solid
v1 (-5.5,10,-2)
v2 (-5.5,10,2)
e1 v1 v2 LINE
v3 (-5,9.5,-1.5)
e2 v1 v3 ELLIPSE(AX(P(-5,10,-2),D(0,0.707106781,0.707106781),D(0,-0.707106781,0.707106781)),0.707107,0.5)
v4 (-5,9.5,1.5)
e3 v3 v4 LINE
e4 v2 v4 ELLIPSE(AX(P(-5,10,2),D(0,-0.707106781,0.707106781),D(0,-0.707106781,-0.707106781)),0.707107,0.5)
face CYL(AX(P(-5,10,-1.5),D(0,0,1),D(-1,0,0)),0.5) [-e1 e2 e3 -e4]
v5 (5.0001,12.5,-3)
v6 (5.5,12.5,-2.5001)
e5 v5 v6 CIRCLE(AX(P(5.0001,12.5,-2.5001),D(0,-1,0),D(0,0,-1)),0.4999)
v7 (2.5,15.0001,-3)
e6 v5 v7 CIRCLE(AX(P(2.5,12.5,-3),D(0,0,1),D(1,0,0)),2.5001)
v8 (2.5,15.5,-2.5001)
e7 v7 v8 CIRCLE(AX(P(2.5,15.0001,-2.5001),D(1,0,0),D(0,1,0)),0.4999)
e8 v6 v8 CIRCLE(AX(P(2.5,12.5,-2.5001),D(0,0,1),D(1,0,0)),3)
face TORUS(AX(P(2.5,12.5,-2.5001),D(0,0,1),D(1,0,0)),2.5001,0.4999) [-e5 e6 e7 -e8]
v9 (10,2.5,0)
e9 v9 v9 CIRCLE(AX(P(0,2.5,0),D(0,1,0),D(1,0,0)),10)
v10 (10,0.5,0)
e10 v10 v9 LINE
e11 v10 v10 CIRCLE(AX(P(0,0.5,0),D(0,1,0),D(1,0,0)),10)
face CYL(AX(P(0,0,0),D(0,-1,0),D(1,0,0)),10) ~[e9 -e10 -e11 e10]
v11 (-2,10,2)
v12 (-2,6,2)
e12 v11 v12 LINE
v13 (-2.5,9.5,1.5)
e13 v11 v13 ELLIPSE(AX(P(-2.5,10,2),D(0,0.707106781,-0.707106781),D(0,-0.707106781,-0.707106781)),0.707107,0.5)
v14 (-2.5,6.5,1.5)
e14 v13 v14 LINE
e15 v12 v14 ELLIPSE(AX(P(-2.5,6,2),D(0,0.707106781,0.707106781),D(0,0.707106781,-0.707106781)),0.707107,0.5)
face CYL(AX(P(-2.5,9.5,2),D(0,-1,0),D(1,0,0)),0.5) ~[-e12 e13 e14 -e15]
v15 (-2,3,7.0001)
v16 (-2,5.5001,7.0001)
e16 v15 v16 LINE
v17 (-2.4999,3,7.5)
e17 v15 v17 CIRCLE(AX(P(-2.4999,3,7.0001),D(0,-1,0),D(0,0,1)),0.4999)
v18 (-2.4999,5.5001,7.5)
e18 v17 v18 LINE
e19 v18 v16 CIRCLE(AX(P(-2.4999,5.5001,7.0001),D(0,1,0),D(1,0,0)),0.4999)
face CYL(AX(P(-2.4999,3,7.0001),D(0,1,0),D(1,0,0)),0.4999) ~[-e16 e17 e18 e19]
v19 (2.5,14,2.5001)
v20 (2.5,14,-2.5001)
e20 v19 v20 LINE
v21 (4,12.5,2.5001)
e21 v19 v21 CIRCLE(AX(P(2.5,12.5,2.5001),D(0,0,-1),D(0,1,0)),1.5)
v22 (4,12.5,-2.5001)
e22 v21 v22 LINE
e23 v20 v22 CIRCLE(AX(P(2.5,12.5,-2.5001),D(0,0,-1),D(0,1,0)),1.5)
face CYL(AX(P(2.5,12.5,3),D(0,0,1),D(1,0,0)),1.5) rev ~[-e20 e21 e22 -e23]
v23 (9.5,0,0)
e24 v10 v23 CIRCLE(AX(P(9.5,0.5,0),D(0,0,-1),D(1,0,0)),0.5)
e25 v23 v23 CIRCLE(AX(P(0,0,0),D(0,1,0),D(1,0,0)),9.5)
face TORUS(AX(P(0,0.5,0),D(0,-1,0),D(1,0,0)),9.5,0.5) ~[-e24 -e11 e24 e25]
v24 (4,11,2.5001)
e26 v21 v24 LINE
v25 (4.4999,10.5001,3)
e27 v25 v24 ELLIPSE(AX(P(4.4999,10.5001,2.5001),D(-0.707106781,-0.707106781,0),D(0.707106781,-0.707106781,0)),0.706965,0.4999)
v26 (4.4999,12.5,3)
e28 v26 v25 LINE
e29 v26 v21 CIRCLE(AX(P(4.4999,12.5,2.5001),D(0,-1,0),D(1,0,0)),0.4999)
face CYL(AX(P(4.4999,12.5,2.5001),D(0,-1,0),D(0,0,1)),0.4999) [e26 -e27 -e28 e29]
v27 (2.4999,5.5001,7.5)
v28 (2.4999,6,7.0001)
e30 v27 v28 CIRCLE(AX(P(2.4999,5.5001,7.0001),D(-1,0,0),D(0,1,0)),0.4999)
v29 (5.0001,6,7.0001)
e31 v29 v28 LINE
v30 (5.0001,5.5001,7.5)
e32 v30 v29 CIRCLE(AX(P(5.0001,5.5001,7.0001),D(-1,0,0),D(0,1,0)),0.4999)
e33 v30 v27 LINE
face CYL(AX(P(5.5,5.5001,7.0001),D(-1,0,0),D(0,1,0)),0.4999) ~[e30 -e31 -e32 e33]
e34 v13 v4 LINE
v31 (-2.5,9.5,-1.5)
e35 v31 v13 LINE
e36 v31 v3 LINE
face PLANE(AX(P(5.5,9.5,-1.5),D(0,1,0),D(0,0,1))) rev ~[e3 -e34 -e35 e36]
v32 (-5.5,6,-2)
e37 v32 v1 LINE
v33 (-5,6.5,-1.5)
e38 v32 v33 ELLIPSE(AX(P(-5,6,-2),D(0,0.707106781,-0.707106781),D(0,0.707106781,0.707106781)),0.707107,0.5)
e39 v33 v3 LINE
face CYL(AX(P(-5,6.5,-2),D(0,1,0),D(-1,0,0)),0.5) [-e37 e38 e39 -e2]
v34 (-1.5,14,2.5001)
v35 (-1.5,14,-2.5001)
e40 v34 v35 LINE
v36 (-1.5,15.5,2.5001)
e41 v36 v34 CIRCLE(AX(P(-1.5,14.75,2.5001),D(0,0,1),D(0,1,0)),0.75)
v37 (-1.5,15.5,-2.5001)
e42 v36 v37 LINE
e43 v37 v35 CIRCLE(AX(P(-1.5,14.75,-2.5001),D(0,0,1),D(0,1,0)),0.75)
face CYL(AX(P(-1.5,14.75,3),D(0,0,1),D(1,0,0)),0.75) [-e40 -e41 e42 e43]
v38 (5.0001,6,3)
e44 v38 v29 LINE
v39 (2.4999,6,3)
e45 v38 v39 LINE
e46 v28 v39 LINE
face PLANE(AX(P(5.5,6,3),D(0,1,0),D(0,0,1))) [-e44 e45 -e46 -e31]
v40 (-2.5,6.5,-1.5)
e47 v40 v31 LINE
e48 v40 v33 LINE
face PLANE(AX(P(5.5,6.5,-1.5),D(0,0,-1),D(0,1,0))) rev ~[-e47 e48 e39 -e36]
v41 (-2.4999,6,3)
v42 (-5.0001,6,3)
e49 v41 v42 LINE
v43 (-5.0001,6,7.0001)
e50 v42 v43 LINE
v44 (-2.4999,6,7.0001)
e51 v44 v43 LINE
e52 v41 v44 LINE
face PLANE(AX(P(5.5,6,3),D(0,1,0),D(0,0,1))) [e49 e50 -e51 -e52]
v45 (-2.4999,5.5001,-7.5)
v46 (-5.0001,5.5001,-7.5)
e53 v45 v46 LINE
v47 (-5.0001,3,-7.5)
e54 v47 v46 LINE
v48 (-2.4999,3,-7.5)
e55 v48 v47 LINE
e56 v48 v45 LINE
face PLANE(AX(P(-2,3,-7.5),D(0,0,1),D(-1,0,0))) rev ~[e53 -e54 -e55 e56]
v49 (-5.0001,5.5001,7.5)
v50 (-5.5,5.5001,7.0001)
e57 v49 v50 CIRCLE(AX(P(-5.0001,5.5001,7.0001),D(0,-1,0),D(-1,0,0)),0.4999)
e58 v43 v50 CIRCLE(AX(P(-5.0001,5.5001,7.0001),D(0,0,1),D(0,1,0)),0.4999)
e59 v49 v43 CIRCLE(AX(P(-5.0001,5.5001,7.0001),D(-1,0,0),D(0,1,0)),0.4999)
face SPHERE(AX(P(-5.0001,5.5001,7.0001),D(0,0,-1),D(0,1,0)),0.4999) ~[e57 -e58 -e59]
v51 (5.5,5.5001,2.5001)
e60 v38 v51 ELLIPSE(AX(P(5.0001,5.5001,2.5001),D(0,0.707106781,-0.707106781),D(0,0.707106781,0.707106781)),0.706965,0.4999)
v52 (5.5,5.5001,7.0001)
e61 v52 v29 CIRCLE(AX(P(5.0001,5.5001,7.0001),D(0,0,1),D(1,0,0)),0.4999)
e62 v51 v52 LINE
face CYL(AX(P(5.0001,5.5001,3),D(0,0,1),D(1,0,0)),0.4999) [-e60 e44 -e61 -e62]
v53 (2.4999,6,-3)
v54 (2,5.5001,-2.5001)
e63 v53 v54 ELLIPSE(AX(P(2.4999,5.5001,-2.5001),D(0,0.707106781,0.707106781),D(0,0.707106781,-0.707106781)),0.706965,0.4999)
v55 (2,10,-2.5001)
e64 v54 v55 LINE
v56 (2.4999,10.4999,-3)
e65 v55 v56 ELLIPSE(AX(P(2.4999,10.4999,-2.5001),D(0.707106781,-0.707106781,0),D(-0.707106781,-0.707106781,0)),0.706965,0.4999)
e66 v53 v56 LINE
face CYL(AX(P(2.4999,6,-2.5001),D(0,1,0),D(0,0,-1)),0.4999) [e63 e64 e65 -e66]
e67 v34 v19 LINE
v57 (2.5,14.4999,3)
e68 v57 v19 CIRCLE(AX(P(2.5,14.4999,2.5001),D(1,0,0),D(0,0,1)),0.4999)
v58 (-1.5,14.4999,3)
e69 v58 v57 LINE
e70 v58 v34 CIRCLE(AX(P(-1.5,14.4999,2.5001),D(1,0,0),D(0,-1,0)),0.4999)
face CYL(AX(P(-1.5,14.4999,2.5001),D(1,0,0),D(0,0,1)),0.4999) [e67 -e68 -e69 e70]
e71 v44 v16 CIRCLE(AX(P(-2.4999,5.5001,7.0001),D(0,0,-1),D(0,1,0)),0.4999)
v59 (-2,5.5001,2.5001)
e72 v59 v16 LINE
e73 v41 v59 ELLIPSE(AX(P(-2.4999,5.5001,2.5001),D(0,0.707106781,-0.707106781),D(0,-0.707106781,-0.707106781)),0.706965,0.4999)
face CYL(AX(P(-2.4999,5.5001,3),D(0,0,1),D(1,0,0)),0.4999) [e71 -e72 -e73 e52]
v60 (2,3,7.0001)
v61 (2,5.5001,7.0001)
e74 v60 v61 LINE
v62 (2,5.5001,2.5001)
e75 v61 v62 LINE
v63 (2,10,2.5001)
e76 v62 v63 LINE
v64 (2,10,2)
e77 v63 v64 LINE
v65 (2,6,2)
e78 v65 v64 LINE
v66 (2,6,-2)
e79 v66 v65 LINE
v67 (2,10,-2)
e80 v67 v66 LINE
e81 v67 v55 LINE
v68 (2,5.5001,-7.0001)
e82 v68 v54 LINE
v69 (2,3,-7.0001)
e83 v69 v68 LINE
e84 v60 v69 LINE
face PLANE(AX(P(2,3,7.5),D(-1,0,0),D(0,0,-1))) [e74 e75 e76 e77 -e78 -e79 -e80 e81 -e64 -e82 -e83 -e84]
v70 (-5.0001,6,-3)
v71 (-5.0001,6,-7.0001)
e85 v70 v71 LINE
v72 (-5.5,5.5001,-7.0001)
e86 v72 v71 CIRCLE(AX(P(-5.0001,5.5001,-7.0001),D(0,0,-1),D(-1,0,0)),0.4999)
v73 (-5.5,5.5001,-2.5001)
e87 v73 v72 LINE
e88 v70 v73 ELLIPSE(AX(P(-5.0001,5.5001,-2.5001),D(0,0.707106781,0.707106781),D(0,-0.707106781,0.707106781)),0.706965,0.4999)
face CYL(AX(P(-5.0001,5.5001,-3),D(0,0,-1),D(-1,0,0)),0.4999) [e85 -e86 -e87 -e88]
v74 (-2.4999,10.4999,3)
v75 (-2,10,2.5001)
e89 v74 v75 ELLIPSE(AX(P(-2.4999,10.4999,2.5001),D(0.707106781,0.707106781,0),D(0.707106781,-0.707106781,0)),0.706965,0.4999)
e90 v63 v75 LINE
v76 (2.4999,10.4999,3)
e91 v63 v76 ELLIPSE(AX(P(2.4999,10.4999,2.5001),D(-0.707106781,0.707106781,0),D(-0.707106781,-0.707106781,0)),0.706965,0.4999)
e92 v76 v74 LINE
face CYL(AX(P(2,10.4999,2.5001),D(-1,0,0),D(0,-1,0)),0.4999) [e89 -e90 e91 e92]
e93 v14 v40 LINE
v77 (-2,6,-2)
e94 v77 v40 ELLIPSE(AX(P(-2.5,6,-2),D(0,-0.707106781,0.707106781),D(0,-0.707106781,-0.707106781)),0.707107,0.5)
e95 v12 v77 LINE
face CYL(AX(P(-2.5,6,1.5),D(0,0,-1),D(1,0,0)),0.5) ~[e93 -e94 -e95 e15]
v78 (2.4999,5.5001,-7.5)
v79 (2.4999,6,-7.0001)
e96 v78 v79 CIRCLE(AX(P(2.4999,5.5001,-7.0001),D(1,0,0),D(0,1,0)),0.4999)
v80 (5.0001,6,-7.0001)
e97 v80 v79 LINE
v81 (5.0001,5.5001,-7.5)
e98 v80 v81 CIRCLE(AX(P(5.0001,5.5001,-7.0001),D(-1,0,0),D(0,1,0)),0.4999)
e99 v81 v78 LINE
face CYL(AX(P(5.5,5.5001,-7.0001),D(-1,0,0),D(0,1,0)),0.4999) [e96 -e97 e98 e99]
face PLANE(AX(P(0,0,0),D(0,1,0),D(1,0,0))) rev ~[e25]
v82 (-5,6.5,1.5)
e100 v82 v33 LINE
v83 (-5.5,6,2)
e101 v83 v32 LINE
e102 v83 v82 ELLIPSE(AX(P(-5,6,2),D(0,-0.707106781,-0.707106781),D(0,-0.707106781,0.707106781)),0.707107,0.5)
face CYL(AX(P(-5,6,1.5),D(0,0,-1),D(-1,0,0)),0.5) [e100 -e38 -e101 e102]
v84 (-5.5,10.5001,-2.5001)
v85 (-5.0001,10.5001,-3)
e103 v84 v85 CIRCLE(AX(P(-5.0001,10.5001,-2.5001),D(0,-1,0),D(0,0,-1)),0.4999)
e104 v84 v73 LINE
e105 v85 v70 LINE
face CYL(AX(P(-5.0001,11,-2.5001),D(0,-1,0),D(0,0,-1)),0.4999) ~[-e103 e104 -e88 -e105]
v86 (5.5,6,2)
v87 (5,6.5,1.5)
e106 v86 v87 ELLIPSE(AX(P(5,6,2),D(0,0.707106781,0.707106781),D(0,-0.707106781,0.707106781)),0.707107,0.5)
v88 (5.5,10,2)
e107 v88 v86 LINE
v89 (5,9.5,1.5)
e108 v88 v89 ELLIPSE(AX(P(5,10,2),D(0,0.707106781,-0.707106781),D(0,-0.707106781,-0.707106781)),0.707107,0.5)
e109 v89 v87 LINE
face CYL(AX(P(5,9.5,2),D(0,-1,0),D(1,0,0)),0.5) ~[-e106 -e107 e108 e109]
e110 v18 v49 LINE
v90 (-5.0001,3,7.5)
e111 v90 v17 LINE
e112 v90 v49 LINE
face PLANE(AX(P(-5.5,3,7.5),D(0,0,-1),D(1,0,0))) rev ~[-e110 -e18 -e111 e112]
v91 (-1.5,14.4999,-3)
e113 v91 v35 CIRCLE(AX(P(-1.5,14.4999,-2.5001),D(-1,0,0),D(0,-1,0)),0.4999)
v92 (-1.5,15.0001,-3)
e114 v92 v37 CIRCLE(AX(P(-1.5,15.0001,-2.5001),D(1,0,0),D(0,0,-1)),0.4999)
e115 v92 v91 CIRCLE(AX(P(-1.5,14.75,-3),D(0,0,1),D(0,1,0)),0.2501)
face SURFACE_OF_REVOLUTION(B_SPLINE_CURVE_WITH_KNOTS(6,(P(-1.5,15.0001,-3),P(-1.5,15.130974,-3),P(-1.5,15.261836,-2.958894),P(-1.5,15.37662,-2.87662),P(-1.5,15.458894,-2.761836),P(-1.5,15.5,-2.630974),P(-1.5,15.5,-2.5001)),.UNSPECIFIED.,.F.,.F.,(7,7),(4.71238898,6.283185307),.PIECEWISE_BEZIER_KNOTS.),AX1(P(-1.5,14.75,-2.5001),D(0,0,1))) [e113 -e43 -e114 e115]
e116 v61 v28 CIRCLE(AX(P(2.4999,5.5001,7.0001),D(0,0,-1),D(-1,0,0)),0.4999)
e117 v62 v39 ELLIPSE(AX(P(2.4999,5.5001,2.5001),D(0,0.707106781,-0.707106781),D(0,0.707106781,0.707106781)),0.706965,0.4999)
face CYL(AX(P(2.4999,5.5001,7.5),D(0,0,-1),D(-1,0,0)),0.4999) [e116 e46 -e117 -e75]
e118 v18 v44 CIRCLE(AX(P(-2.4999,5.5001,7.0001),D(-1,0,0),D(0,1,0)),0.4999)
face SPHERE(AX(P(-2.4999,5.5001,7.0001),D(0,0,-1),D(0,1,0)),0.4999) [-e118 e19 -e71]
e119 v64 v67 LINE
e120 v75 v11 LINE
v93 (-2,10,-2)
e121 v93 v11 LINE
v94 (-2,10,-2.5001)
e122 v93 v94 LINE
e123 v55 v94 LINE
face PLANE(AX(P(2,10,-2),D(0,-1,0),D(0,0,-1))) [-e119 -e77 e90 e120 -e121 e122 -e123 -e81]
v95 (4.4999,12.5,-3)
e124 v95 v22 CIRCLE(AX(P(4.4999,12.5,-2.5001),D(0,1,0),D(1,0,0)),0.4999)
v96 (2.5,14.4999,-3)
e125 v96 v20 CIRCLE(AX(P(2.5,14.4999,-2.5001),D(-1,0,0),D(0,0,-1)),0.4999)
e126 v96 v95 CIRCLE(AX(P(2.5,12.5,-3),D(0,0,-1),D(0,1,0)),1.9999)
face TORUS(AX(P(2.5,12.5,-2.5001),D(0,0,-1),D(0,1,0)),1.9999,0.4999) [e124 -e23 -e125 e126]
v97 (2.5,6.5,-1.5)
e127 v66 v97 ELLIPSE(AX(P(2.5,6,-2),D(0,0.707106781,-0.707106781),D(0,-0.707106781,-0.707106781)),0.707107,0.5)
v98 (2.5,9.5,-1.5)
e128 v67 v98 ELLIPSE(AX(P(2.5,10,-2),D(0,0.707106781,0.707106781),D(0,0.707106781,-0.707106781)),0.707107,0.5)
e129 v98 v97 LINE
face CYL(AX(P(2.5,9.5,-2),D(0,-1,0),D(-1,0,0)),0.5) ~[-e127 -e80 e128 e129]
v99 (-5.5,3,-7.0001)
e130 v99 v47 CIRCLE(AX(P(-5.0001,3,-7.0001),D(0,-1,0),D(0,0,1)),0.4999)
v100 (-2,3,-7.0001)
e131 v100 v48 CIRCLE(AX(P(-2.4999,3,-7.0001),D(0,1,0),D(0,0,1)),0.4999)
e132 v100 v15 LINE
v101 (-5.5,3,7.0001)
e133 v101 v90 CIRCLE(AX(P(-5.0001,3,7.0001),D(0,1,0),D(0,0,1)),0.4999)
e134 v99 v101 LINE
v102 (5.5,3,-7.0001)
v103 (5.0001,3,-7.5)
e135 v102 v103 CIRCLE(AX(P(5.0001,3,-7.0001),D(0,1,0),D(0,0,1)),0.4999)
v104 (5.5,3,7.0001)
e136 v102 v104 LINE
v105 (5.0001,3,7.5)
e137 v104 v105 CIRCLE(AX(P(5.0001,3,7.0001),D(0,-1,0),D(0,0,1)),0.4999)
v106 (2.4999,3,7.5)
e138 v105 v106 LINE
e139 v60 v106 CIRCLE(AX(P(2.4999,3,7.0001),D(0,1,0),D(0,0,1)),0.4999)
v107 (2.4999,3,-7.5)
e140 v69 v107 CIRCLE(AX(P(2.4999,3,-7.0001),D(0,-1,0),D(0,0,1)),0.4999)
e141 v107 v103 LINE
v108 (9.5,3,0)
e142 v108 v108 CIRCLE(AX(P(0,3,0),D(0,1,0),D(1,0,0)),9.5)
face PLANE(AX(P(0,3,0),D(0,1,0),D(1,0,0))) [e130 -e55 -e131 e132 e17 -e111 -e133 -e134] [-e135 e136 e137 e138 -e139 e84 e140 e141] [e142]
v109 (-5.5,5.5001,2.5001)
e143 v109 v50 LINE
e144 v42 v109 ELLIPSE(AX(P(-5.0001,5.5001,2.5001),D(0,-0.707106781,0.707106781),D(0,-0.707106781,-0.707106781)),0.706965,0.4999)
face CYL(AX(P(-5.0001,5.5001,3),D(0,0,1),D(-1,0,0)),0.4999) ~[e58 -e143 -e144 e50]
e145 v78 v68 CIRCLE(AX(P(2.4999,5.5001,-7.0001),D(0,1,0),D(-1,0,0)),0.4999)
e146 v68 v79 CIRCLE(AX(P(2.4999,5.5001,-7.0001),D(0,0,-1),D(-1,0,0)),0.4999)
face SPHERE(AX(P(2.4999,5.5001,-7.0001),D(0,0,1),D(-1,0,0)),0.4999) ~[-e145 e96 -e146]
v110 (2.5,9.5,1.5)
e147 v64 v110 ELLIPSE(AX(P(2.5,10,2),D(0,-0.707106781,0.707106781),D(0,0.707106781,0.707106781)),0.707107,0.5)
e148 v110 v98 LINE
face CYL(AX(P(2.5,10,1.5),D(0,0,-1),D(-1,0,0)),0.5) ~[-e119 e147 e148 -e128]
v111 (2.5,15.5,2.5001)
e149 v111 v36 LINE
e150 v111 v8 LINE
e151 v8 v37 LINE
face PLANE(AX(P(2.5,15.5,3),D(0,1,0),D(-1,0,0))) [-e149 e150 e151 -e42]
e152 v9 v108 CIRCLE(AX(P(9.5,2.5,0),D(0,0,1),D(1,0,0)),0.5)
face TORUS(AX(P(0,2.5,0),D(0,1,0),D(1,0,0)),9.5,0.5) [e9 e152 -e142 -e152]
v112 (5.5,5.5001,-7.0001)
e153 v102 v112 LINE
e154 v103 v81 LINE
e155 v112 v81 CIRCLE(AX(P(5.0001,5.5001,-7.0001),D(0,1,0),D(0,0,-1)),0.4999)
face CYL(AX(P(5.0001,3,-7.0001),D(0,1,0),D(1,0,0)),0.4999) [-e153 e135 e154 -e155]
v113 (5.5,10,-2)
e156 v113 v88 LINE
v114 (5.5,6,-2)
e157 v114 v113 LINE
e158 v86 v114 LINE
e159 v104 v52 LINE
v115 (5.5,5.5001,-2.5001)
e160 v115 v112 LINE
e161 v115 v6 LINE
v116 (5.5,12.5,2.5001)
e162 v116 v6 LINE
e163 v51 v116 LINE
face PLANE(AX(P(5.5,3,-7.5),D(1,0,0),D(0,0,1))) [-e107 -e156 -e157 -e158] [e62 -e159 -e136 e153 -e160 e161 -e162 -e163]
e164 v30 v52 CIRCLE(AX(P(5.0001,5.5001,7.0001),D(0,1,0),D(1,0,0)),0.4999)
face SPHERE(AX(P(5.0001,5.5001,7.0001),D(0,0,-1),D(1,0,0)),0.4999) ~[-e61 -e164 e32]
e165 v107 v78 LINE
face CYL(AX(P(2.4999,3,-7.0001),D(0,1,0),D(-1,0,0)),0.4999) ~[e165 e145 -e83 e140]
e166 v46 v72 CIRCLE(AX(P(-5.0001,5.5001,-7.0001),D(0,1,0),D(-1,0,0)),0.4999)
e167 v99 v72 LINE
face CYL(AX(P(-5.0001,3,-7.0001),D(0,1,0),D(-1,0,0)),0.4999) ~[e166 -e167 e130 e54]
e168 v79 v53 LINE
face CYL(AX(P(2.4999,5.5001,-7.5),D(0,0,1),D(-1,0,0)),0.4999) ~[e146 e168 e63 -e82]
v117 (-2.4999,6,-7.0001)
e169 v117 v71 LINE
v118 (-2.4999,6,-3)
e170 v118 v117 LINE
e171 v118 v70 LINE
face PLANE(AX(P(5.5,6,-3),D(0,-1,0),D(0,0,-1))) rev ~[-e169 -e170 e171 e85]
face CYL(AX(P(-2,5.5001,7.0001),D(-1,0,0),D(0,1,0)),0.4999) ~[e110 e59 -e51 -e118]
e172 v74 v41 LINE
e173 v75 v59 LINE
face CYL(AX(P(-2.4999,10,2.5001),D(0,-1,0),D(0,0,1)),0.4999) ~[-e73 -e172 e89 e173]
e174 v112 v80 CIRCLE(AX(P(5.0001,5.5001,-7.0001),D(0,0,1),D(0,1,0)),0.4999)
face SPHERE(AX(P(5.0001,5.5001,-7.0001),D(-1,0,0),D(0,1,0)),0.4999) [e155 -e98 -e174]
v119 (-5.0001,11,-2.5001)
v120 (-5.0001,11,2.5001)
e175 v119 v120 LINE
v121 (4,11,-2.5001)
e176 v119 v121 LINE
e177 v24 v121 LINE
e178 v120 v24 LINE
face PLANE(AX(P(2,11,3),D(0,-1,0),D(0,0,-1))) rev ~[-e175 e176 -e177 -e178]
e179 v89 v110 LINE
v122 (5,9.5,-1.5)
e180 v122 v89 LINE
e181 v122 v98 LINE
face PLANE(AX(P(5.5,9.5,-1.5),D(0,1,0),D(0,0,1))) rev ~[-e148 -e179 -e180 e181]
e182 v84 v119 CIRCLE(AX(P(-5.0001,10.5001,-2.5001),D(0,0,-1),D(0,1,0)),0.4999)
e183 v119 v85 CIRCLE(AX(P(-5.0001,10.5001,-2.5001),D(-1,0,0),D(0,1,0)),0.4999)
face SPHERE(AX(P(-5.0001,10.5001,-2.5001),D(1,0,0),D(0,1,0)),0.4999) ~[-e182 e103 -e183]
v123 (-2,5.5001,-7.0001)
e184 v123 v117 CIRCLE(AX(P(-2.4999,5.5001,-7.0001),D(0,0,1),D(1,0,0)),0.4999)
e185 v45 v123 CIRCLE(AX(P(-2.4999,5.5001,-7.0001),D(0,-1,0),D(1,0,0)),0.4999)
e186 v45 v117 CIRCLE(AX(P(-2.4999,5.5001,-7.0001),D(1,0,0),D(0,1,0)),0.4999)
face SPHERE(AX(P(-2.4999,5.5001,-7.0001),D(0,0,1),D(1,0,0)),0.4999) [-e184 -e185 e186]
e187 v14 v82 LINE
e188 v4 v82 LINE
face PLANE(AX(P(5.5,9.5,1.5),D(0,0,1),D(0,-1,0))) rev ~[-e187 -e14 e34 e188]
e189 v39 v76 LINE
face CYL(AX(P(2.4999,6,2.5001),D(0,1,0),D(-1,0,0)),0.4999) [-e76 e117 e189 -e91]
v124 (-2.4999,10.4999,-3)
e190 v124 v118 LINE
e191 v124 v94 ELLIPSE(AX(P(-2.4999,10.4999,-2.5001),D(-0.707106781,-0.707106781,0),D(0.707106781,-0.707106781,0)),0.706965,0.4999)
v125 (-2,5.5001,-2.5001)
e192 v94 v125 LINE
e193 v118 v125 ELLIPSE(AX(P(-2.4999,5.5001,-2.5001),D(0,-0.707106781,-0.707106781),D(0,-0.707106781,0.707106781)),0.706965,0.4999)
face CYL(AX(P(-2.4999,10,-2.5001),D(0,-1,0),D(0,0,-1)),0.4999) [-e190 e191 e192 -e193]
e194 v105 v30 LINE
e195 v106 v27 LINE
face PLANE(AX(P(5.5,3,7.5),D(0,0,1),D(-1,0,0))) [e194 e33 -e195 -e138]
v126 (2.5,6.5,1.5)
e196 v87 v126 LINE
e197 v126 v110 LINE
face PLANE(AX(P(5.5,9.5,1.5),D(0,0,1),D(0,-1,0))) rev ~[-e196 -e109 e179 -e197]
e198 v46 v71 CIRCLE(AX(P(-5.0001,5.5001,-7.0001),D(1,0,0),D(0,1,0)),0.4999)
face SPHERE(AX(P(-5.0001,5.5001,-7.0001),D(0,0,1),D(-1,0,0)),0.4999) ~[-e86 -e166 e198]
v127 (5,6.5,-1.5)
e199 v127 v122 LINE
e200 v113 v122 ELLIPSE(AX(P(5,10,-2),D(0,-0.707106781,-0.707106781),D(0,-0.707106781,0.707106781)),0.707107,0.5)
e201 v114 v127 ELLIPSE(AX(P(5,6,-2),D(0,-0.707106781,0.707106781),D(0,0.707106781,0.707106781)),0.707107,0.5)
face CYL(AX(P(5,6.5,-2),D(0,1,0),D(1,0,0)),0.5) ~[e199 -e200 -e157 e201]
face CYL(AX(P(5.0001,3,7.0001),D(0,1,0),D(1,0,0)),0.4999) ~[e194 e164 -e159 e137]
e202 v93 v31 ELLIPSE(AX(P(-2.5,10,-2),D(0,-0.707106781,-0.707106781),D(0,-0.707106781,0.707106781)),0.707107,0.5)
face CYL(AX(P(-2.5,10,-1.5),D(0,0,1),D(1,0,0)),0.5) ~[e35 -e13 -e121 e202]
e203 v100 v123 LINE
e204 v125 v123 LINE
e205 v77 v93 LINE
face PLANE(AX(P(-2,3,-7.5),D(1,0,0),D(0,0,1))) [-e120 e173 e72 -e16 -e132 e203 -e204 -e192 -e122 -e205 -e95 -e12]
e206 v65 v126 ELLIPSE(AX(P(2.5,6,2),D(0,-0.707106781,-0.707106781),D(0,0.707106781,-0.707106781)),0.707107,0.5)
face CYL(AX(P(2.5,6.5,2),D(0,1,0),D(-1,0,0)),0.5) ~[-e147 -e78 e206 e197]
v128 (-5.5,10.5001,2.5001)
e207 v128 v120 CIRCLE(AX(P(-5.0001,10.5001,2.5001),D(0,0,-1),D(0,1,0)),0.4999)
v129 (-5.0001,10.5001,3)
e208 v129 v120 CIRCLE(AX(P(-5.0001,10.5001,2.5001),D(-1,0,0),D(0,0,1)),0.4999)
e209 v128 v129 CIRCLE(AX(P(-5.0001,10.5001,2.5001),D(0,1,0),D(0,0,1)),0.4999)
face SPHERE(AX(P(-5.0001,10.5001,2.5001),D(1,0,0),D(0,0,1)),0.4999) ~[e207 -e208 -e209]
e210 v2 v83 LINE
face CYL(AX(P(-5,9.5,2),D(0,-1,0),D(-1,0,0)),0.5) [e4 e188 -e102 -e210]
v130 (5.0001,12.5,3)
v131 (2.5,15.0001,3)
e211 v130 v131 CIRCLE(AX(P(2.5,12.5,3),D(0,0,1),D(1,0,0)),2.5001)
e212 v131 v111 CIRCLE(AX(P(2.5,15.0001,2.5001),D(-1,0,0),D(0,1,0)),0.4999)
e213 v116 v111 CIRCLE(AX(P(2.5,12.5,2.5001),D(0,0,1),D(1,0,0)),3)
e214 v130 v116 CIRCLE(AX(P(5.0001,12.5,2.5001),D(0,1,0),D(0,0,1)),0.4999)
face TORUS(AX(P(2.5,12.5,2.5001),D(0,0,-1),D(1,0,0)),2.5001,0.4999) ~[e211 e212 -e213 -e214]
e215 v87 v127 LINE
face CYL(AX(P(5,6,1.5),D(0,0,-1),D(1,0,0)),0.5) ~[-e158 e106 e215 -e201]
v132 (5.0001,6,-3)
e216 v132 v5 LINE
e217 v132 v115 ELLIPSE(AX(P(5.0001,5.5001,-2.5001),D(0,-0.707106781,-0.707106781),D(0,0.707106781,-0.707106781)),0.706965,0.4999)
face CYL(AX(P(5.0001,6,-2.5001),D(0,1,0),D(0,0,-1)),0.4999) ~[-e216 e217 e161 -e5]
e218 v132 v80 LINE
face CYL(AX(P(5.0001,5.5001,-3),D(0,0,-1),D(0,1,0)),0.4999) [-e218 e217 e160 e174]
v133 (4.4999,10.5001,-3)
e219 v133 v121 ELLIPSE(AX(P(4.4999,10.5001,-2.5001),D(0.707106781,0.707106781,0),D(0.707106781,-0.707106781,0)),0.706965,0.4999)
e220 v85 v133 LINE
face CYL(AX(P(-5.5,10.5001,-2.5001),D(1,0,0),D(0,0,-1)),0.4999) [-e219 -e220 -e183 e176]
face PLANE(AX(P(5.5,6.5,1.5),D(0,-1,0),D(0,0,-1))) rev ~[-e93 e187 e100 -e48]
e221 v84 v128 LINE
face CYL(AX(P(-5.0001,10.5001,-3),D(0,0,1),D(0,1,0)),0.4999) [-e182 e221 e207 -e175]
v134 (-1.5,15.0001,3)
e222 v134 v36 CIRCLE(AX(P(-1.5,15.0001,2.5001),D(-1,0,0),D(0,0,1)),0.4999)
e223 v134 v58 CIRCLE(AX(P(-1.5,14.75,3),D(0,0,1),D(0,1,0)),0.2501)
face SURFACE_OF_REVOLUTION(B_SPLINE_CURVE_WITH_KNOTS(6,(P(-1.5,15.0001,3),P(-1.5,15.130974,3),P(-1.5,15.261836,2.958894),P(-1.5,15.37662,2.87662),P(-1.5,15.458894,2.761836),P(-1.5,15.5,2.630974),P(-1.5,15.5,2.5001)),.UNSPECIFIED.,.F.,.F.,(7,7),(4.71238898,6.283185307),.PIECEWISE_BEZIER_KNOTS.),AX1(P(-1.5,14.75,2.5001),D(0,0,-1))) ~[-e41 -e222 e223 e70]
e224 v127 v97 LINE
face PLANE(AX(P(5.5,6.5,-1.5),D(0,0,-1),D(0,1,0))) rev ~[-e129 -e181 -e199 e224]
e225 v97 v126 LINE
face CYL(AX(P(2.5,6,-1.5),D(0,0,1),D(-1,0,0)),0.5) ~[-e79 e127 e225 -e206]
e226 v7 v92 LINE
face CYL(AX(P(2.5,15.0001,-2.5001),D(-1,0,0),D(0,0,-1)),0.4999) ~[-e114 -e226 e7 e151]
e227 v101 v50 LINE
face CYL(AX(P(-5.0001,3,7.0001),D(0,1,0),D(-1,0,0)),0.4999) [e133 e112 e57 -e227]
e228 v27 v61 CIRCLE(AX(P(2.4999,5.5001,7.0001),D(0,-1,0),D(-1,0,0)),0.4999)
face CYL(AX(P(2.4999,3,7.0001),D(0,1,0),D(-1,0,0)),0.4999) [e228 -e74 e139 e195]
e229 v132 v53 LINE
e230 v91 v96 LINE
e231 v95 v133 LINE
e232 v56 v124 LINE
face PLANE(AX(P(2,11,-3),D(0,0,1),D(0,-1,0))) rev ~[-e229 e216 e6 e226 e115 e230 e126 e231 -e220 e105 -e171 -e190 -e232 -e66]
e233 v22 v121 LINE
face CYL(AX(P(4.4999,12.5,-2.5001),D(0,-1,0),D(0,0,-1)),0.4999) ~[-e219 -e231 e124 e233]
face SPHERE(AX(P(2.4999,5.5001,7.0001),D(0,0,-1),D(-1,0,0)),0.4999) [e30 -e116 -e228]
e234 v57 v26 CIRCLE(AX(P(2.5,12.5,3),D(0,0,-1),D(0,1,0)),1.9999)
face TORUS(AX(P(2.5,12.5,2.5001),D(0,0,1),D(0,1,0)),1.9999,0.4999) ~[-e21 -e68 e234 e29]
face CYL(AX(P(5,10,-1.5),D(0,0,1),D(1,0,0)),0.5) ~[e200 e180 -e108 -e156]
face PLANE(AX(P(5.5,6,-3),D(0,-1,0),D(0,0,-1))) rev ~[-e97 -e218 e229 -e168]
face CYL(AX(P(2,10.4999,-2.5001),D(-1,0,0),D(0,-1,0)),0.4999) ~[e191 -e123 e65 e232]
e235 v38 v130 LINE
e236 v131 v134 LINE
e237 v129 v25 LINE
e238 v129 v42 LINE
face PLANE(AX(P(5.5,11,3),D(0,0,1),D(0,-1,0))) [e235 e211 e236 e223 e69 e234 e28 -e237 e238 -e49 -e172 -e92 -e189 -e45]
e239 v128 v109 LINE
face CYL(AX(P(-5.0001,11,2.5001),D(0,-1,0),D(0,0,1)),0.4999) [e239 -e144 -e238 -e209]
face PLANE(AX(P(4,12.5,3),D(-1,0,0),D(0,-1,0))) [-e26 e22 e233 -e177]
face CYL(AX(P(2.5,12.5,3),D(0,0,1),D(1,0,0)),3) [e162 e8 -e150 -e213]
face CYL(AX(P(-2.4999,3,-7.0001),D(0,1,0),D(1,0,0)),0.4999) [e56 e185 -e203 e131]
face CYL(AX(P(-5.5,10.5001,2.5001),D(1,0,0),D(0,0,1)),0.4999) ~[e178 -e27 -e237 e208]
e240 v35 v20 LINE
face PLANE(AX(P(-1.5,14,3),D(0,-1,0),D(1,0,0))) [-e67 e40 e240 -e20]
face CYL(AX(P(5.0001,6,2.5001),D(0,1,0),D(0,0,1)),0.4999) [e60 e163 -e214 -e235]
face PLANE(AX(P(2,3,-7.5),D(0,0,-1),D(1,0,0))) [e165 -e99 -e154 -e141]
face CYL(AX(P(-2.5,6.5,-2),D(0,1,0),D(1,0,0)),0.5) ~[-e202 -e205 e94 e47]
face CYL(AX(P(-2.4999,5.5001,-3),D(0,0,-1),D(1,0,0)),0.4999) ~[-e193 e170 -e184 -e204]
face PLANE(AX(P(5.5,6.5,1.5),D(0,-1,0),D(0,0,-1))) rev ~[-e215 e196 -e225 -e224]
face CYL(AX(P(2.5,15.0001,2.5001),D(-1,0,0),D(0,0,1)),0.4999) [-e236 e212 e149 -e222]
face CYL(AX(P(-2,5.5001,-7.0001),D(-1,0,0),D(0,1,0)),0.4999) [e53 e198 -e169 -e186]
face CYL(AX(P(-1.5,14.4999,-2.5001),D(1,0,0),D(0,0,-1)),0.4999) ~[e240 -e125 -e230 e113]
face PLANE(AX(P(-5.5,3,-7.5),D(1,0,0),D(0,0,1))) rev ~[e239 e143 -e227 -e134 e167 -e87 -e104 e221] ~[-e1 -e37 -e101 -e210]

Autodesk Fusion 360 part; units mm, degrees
sketch "Sketch1" plane through (0, 0, 0) normal (0, 1, 0) x (1, 0, 0)
  circle A0 centre (0, 0) radius 10
  dimension "d1" = 20
extrude "Extrude1" add sketch "Sketch1" along normal blind 3
fillet "Fillet1" radius 0.5 1 edges at (-9.3233, 3, 3.6162)
fillet "Fillet2" radius 0.5 1 edges at (-9.3233, 0, 3.6162)
sketch "Sketch2" plane through (0, 3, 0) normal (0, 1, 0) x (-1, 0, 0)
  circle A0 centre (0, 0) radius 9.5
  circle A1 centre (0, 0) radius 9.5
  line L0 (2, 7.5) -> (-2, 7.5)
  line L1 (-2, 7.5) -> (-2, -7.5)
  line L2 (-2, -7.5) -> (2, -7.5)
  line L3 (2, -7.5) -> (2, 7.5)
  line L4 (2, 7.5) -> (-2, -7.5) construction
  line L5 (-2, 7.5) -> (2, -7.5) construction
  line L6 (-2, -7.5) -> (-5.5, -7.5)
  line L7 (-5.5, -7.5) -> (-5.5, 7.5)
  line L8 (-5.5, 7.5) -> (-2, 7.5)
  line L9 (-2, 7.5) -> (-2, -7.5)
  line L10 (2, -7.5) -> (5.5, -7.5)
  line L11 (5.5, -7.5) -> (5.5, 7.5)
  line L12 (5.5, 7.5) -> (2, 7.5)
  line L13 (2, 7.5) -> (2, -7.5)
  dimension "d8" = 19
  dimension "d9" = 4
  dimension "d10" = 15
  dimension "d11" = 3.5
  dimension "d12" = 15
  dimension "d13" = 3.5
  dimension "d14" = 15
extrude "Extrude2" add sketch "Sketch2" along normal blind 8 contours L3 L10 L11 L12 L13 | L1 L6 L7 L8 L9
sketch "Sketch3" plane through (5.5, 0, 0) normal (1, 0, 0) x (0, 0, -1)
  line L0 (-7.5, 3) -> (7.5, 3)
  line L1 (7.5, 3) -> (7.5, 11)
  line L2 (7.5, 11) -> (-7.5, 11)
  line L3 (-7.5, 11) -> (-7.5, 3)
  line L4 (0, 3) -> (0, 8) construction
  line L5 (1.5, 9.5) -> (-1.5, 9.5)
  line L6 (-1.5, 9.5) -> (-1.5, 6.5)
  line L7 (-1.5, 6.5) -> (1.5, 6.5)
  line L8 (1.5, 6.5) -> (1.5, 9.5)
  line L9 (1.5, 9.5) -> (-1.5, 6.5) construction
  line L10 (-1.5, 9.5) -> (1.5, 6.5) construction
  point P0 (0, 8)
  dimension "d17" = 5
  dimension "d18" = 3
  dimension "d19" = 3
extrude "Extrude3" cut sketch "Sketch3" against normal blind 16 contours L5 L6 L7 L8
fillet "Fillet3" radius 0.5 16 edges at (5.5, 8, 1.5) (5.5, 9.5, 0) (5.5, 8, -1.5) (5.5, 6.5, 0) (2, 8, 1.5) (2, 9.5, 0) (2, 8, -1.5) (2, 6.5, 0) (-2, 6.5, 0) (-2, 8, 1.5) (-2, 9.5, 0) (-2, 8, -1.5) (-5.5, 8, 1.5) (-5.5, 9.5, 0) (-5.5, 8, -1.5) (-5.5, 6.5, 0)
sketch "Sketch4" plane through (5.5, 0, 0) normal (1, 0, 0) x (0, 0, -1)
  line L0 (-7.5, 3) -> (7.5, 3)
  line L1 (7.5, 3) -> (7.5, 11)
  line L2 (7.5, 11) -> (-7.5, 11)
  line L3 (-7.5, 11) -> (-7.5, 3)
  line L4 (-2, 10) -> (2, 10)
  line L5 (2, 10) -> (2, 6)
  line L6 (2, 6) -> (-2, 6)
  line L7 (-2, 6) -> (-2, 10)
  line L8 (-7.5, 11) -> (-3, 11)
  line L9 (-3, 11) -> (-3, 6)
  line L10 (-3, 6) -> (-7.5, 6)
  line L11 (-7.5, 6) -> (-7.5, 11)
  line L12 (7.5, 11) -> (3, 11)
  line L13 (3, 11) -> (3, 6)
  line L14 (3, 6) -> (7.5, 6)
  line L15 (7.5, 6) -> (7.5, 11)
  dimension "d24" = 4.5
  dimension "d25" = 5
  dimension "d26" = 4.5
  dimension "d27" = 5
extrude "Extrude4" cut sketch "Sketch4" against normal blind 18 contours L2 L3 L8 L9 L10 L11 | L1 L2 L12 L13 L14 L15
sketch "Sketch5" plane through (2, 0, 0) normal (-1, 0, 0) x (0, 0, 1)
  line L0 (-2, 10) -> (2, 10)
  line L1 (2, 10) -> (2, 6)
  line L2 (2, 6) -> (-2, 6)
  line L3 (-2, 6) -> (-2, 10)
  line L4 (7.5, 6) -> (3, 6)
  line L5 (3, 6) -> (3, 11)
  line L6 (3, 11) -> (-3, 11)
  line L7 (-3, 11) -> (-3, 6)
  line L8 (-3, 6) -> (-7.5, 6)
  line L9 (-7.5, 6) -> (-7.5, 3)
  line L10 (-7.5, 3) -> (7.5, 3)
  line L11 (7.5, 3) -> (7.5, 6)
  line L12 (-3, 11) -> (3, 11)
  line L13 (3, 11) -> (3, 10)
  line L14 (3, 10) -> (-3, 10)
  line L15 (-3, 10) -> (-3, 11)
  dimension "d30" = 1
extrude "Extrude5" add sketch "Sketch5" along normal blind 4 contours L0 L5 L6 L7 L12 L13 L14 L15
sketch "Sketch6" plane through (0, 0, 3) normal (0, 0, 1) x (1, 0, 0)
  line L0 (2, 10) -> (2, 6)
  line L1 (2, 6) -> (5.5, 6)
  line L2 (5.5, 6) -> (5.5, 11)
  line L3 (5.5, 11) -> (-5.5, 11)
  line L4 (-5.5, 11) -> (-5.5, 6)
  line L5 (-5.5, 6) -> (-2, 6)
  line L6 (-2, 6) -> (-2, 10)
  line L7 (-2, 10) -> (2, 10)
  line L8 (5.5, 11) -> (5.5, 12.5)
  line L9 (2.5, 15.5) -> (-1.5, 15.5)
  line L10 (-1.5, 15.5) -> (-1.5, 14)
  line L11 (-1.5, 14) -> (2.5, 14)
  line L12 (4, 12.5) -> (4, 11)
  arc A0 (5.5, 12.5) -> (2.5, 15.5) centre (2.5, 12.5) ccw
  arc A1 (4, 12.5) -> (2.5, 14) centre (2.5, 12.5) ccw
  circle A2 centre (-1.5, 14.75) radius 0.75
  point P0 (5.5, 15.5)
  point P1 (4, 14)
  dimension "d33" = 4.5
  dimension "d34" = 7
  dimension "d35" = 1.5
  dimension "d36" = 5.5
  dimension "d37" = 3
  dimension "d38" = 1.5
extrude "Extrude6" add sketch "Sketch6" against normal blind 6 contours L3 L8 L9 L11 L12 A0 A1 A2 | L10 A2 | L10 A2
fillet "Fillet4" radius 0.5 45 edges at (5.5, 9.25, 3) (4.6213, 14.6213, 3) (0.5, 15.5, 3) (-2.25, 14.75, 3) (0.5, 14, 3) (3.5607, 13.5607, 3) (4, 11.75, 3) (-0.75, 11, 3) (-5.5, 8.5, 3) (-2, 8, 3) (0, 10, 3) (2, 8, 3) (2, 6, 5.25) (5.5, 6, 5.25) (-2, 6, 5.25) (-5.5, 6, 5.25) (-3.75, 6, 7.5) (-5.5, 4.5, 7.5) (-2, 4.5, 7.5) (5.5, 4.5, 7.5) (2, 4.5, 7.5) (3.75, 6, 7.5) (4, 11.75, -3) (3.5607, 13.5607, -3) (0.5, 14, -3) (-2.25, 14.75, -3) (0.5, 15.5, -3) (4.6213, 14.6213, -3) (5.5, 9.25, -3) (-0.75, 11, -3) (-5.5, 11, 0) (-5.5, 8.5, -3) (-5.5, 6, -5.25) (-5.5, 4.5, -7.5) (-2, 8, -3) (0, 10, -3) (2, 8, -3) (2, 6, -5.25) (-2, 6, -5.25) (-2, 4.5, -7.5) (2, 4.5, -7.5) (3.75, 6, -7.5) (-3.75, 6, -7.5) (5.5, 6, -5.25) (5.5, 4.5, -7.5)
